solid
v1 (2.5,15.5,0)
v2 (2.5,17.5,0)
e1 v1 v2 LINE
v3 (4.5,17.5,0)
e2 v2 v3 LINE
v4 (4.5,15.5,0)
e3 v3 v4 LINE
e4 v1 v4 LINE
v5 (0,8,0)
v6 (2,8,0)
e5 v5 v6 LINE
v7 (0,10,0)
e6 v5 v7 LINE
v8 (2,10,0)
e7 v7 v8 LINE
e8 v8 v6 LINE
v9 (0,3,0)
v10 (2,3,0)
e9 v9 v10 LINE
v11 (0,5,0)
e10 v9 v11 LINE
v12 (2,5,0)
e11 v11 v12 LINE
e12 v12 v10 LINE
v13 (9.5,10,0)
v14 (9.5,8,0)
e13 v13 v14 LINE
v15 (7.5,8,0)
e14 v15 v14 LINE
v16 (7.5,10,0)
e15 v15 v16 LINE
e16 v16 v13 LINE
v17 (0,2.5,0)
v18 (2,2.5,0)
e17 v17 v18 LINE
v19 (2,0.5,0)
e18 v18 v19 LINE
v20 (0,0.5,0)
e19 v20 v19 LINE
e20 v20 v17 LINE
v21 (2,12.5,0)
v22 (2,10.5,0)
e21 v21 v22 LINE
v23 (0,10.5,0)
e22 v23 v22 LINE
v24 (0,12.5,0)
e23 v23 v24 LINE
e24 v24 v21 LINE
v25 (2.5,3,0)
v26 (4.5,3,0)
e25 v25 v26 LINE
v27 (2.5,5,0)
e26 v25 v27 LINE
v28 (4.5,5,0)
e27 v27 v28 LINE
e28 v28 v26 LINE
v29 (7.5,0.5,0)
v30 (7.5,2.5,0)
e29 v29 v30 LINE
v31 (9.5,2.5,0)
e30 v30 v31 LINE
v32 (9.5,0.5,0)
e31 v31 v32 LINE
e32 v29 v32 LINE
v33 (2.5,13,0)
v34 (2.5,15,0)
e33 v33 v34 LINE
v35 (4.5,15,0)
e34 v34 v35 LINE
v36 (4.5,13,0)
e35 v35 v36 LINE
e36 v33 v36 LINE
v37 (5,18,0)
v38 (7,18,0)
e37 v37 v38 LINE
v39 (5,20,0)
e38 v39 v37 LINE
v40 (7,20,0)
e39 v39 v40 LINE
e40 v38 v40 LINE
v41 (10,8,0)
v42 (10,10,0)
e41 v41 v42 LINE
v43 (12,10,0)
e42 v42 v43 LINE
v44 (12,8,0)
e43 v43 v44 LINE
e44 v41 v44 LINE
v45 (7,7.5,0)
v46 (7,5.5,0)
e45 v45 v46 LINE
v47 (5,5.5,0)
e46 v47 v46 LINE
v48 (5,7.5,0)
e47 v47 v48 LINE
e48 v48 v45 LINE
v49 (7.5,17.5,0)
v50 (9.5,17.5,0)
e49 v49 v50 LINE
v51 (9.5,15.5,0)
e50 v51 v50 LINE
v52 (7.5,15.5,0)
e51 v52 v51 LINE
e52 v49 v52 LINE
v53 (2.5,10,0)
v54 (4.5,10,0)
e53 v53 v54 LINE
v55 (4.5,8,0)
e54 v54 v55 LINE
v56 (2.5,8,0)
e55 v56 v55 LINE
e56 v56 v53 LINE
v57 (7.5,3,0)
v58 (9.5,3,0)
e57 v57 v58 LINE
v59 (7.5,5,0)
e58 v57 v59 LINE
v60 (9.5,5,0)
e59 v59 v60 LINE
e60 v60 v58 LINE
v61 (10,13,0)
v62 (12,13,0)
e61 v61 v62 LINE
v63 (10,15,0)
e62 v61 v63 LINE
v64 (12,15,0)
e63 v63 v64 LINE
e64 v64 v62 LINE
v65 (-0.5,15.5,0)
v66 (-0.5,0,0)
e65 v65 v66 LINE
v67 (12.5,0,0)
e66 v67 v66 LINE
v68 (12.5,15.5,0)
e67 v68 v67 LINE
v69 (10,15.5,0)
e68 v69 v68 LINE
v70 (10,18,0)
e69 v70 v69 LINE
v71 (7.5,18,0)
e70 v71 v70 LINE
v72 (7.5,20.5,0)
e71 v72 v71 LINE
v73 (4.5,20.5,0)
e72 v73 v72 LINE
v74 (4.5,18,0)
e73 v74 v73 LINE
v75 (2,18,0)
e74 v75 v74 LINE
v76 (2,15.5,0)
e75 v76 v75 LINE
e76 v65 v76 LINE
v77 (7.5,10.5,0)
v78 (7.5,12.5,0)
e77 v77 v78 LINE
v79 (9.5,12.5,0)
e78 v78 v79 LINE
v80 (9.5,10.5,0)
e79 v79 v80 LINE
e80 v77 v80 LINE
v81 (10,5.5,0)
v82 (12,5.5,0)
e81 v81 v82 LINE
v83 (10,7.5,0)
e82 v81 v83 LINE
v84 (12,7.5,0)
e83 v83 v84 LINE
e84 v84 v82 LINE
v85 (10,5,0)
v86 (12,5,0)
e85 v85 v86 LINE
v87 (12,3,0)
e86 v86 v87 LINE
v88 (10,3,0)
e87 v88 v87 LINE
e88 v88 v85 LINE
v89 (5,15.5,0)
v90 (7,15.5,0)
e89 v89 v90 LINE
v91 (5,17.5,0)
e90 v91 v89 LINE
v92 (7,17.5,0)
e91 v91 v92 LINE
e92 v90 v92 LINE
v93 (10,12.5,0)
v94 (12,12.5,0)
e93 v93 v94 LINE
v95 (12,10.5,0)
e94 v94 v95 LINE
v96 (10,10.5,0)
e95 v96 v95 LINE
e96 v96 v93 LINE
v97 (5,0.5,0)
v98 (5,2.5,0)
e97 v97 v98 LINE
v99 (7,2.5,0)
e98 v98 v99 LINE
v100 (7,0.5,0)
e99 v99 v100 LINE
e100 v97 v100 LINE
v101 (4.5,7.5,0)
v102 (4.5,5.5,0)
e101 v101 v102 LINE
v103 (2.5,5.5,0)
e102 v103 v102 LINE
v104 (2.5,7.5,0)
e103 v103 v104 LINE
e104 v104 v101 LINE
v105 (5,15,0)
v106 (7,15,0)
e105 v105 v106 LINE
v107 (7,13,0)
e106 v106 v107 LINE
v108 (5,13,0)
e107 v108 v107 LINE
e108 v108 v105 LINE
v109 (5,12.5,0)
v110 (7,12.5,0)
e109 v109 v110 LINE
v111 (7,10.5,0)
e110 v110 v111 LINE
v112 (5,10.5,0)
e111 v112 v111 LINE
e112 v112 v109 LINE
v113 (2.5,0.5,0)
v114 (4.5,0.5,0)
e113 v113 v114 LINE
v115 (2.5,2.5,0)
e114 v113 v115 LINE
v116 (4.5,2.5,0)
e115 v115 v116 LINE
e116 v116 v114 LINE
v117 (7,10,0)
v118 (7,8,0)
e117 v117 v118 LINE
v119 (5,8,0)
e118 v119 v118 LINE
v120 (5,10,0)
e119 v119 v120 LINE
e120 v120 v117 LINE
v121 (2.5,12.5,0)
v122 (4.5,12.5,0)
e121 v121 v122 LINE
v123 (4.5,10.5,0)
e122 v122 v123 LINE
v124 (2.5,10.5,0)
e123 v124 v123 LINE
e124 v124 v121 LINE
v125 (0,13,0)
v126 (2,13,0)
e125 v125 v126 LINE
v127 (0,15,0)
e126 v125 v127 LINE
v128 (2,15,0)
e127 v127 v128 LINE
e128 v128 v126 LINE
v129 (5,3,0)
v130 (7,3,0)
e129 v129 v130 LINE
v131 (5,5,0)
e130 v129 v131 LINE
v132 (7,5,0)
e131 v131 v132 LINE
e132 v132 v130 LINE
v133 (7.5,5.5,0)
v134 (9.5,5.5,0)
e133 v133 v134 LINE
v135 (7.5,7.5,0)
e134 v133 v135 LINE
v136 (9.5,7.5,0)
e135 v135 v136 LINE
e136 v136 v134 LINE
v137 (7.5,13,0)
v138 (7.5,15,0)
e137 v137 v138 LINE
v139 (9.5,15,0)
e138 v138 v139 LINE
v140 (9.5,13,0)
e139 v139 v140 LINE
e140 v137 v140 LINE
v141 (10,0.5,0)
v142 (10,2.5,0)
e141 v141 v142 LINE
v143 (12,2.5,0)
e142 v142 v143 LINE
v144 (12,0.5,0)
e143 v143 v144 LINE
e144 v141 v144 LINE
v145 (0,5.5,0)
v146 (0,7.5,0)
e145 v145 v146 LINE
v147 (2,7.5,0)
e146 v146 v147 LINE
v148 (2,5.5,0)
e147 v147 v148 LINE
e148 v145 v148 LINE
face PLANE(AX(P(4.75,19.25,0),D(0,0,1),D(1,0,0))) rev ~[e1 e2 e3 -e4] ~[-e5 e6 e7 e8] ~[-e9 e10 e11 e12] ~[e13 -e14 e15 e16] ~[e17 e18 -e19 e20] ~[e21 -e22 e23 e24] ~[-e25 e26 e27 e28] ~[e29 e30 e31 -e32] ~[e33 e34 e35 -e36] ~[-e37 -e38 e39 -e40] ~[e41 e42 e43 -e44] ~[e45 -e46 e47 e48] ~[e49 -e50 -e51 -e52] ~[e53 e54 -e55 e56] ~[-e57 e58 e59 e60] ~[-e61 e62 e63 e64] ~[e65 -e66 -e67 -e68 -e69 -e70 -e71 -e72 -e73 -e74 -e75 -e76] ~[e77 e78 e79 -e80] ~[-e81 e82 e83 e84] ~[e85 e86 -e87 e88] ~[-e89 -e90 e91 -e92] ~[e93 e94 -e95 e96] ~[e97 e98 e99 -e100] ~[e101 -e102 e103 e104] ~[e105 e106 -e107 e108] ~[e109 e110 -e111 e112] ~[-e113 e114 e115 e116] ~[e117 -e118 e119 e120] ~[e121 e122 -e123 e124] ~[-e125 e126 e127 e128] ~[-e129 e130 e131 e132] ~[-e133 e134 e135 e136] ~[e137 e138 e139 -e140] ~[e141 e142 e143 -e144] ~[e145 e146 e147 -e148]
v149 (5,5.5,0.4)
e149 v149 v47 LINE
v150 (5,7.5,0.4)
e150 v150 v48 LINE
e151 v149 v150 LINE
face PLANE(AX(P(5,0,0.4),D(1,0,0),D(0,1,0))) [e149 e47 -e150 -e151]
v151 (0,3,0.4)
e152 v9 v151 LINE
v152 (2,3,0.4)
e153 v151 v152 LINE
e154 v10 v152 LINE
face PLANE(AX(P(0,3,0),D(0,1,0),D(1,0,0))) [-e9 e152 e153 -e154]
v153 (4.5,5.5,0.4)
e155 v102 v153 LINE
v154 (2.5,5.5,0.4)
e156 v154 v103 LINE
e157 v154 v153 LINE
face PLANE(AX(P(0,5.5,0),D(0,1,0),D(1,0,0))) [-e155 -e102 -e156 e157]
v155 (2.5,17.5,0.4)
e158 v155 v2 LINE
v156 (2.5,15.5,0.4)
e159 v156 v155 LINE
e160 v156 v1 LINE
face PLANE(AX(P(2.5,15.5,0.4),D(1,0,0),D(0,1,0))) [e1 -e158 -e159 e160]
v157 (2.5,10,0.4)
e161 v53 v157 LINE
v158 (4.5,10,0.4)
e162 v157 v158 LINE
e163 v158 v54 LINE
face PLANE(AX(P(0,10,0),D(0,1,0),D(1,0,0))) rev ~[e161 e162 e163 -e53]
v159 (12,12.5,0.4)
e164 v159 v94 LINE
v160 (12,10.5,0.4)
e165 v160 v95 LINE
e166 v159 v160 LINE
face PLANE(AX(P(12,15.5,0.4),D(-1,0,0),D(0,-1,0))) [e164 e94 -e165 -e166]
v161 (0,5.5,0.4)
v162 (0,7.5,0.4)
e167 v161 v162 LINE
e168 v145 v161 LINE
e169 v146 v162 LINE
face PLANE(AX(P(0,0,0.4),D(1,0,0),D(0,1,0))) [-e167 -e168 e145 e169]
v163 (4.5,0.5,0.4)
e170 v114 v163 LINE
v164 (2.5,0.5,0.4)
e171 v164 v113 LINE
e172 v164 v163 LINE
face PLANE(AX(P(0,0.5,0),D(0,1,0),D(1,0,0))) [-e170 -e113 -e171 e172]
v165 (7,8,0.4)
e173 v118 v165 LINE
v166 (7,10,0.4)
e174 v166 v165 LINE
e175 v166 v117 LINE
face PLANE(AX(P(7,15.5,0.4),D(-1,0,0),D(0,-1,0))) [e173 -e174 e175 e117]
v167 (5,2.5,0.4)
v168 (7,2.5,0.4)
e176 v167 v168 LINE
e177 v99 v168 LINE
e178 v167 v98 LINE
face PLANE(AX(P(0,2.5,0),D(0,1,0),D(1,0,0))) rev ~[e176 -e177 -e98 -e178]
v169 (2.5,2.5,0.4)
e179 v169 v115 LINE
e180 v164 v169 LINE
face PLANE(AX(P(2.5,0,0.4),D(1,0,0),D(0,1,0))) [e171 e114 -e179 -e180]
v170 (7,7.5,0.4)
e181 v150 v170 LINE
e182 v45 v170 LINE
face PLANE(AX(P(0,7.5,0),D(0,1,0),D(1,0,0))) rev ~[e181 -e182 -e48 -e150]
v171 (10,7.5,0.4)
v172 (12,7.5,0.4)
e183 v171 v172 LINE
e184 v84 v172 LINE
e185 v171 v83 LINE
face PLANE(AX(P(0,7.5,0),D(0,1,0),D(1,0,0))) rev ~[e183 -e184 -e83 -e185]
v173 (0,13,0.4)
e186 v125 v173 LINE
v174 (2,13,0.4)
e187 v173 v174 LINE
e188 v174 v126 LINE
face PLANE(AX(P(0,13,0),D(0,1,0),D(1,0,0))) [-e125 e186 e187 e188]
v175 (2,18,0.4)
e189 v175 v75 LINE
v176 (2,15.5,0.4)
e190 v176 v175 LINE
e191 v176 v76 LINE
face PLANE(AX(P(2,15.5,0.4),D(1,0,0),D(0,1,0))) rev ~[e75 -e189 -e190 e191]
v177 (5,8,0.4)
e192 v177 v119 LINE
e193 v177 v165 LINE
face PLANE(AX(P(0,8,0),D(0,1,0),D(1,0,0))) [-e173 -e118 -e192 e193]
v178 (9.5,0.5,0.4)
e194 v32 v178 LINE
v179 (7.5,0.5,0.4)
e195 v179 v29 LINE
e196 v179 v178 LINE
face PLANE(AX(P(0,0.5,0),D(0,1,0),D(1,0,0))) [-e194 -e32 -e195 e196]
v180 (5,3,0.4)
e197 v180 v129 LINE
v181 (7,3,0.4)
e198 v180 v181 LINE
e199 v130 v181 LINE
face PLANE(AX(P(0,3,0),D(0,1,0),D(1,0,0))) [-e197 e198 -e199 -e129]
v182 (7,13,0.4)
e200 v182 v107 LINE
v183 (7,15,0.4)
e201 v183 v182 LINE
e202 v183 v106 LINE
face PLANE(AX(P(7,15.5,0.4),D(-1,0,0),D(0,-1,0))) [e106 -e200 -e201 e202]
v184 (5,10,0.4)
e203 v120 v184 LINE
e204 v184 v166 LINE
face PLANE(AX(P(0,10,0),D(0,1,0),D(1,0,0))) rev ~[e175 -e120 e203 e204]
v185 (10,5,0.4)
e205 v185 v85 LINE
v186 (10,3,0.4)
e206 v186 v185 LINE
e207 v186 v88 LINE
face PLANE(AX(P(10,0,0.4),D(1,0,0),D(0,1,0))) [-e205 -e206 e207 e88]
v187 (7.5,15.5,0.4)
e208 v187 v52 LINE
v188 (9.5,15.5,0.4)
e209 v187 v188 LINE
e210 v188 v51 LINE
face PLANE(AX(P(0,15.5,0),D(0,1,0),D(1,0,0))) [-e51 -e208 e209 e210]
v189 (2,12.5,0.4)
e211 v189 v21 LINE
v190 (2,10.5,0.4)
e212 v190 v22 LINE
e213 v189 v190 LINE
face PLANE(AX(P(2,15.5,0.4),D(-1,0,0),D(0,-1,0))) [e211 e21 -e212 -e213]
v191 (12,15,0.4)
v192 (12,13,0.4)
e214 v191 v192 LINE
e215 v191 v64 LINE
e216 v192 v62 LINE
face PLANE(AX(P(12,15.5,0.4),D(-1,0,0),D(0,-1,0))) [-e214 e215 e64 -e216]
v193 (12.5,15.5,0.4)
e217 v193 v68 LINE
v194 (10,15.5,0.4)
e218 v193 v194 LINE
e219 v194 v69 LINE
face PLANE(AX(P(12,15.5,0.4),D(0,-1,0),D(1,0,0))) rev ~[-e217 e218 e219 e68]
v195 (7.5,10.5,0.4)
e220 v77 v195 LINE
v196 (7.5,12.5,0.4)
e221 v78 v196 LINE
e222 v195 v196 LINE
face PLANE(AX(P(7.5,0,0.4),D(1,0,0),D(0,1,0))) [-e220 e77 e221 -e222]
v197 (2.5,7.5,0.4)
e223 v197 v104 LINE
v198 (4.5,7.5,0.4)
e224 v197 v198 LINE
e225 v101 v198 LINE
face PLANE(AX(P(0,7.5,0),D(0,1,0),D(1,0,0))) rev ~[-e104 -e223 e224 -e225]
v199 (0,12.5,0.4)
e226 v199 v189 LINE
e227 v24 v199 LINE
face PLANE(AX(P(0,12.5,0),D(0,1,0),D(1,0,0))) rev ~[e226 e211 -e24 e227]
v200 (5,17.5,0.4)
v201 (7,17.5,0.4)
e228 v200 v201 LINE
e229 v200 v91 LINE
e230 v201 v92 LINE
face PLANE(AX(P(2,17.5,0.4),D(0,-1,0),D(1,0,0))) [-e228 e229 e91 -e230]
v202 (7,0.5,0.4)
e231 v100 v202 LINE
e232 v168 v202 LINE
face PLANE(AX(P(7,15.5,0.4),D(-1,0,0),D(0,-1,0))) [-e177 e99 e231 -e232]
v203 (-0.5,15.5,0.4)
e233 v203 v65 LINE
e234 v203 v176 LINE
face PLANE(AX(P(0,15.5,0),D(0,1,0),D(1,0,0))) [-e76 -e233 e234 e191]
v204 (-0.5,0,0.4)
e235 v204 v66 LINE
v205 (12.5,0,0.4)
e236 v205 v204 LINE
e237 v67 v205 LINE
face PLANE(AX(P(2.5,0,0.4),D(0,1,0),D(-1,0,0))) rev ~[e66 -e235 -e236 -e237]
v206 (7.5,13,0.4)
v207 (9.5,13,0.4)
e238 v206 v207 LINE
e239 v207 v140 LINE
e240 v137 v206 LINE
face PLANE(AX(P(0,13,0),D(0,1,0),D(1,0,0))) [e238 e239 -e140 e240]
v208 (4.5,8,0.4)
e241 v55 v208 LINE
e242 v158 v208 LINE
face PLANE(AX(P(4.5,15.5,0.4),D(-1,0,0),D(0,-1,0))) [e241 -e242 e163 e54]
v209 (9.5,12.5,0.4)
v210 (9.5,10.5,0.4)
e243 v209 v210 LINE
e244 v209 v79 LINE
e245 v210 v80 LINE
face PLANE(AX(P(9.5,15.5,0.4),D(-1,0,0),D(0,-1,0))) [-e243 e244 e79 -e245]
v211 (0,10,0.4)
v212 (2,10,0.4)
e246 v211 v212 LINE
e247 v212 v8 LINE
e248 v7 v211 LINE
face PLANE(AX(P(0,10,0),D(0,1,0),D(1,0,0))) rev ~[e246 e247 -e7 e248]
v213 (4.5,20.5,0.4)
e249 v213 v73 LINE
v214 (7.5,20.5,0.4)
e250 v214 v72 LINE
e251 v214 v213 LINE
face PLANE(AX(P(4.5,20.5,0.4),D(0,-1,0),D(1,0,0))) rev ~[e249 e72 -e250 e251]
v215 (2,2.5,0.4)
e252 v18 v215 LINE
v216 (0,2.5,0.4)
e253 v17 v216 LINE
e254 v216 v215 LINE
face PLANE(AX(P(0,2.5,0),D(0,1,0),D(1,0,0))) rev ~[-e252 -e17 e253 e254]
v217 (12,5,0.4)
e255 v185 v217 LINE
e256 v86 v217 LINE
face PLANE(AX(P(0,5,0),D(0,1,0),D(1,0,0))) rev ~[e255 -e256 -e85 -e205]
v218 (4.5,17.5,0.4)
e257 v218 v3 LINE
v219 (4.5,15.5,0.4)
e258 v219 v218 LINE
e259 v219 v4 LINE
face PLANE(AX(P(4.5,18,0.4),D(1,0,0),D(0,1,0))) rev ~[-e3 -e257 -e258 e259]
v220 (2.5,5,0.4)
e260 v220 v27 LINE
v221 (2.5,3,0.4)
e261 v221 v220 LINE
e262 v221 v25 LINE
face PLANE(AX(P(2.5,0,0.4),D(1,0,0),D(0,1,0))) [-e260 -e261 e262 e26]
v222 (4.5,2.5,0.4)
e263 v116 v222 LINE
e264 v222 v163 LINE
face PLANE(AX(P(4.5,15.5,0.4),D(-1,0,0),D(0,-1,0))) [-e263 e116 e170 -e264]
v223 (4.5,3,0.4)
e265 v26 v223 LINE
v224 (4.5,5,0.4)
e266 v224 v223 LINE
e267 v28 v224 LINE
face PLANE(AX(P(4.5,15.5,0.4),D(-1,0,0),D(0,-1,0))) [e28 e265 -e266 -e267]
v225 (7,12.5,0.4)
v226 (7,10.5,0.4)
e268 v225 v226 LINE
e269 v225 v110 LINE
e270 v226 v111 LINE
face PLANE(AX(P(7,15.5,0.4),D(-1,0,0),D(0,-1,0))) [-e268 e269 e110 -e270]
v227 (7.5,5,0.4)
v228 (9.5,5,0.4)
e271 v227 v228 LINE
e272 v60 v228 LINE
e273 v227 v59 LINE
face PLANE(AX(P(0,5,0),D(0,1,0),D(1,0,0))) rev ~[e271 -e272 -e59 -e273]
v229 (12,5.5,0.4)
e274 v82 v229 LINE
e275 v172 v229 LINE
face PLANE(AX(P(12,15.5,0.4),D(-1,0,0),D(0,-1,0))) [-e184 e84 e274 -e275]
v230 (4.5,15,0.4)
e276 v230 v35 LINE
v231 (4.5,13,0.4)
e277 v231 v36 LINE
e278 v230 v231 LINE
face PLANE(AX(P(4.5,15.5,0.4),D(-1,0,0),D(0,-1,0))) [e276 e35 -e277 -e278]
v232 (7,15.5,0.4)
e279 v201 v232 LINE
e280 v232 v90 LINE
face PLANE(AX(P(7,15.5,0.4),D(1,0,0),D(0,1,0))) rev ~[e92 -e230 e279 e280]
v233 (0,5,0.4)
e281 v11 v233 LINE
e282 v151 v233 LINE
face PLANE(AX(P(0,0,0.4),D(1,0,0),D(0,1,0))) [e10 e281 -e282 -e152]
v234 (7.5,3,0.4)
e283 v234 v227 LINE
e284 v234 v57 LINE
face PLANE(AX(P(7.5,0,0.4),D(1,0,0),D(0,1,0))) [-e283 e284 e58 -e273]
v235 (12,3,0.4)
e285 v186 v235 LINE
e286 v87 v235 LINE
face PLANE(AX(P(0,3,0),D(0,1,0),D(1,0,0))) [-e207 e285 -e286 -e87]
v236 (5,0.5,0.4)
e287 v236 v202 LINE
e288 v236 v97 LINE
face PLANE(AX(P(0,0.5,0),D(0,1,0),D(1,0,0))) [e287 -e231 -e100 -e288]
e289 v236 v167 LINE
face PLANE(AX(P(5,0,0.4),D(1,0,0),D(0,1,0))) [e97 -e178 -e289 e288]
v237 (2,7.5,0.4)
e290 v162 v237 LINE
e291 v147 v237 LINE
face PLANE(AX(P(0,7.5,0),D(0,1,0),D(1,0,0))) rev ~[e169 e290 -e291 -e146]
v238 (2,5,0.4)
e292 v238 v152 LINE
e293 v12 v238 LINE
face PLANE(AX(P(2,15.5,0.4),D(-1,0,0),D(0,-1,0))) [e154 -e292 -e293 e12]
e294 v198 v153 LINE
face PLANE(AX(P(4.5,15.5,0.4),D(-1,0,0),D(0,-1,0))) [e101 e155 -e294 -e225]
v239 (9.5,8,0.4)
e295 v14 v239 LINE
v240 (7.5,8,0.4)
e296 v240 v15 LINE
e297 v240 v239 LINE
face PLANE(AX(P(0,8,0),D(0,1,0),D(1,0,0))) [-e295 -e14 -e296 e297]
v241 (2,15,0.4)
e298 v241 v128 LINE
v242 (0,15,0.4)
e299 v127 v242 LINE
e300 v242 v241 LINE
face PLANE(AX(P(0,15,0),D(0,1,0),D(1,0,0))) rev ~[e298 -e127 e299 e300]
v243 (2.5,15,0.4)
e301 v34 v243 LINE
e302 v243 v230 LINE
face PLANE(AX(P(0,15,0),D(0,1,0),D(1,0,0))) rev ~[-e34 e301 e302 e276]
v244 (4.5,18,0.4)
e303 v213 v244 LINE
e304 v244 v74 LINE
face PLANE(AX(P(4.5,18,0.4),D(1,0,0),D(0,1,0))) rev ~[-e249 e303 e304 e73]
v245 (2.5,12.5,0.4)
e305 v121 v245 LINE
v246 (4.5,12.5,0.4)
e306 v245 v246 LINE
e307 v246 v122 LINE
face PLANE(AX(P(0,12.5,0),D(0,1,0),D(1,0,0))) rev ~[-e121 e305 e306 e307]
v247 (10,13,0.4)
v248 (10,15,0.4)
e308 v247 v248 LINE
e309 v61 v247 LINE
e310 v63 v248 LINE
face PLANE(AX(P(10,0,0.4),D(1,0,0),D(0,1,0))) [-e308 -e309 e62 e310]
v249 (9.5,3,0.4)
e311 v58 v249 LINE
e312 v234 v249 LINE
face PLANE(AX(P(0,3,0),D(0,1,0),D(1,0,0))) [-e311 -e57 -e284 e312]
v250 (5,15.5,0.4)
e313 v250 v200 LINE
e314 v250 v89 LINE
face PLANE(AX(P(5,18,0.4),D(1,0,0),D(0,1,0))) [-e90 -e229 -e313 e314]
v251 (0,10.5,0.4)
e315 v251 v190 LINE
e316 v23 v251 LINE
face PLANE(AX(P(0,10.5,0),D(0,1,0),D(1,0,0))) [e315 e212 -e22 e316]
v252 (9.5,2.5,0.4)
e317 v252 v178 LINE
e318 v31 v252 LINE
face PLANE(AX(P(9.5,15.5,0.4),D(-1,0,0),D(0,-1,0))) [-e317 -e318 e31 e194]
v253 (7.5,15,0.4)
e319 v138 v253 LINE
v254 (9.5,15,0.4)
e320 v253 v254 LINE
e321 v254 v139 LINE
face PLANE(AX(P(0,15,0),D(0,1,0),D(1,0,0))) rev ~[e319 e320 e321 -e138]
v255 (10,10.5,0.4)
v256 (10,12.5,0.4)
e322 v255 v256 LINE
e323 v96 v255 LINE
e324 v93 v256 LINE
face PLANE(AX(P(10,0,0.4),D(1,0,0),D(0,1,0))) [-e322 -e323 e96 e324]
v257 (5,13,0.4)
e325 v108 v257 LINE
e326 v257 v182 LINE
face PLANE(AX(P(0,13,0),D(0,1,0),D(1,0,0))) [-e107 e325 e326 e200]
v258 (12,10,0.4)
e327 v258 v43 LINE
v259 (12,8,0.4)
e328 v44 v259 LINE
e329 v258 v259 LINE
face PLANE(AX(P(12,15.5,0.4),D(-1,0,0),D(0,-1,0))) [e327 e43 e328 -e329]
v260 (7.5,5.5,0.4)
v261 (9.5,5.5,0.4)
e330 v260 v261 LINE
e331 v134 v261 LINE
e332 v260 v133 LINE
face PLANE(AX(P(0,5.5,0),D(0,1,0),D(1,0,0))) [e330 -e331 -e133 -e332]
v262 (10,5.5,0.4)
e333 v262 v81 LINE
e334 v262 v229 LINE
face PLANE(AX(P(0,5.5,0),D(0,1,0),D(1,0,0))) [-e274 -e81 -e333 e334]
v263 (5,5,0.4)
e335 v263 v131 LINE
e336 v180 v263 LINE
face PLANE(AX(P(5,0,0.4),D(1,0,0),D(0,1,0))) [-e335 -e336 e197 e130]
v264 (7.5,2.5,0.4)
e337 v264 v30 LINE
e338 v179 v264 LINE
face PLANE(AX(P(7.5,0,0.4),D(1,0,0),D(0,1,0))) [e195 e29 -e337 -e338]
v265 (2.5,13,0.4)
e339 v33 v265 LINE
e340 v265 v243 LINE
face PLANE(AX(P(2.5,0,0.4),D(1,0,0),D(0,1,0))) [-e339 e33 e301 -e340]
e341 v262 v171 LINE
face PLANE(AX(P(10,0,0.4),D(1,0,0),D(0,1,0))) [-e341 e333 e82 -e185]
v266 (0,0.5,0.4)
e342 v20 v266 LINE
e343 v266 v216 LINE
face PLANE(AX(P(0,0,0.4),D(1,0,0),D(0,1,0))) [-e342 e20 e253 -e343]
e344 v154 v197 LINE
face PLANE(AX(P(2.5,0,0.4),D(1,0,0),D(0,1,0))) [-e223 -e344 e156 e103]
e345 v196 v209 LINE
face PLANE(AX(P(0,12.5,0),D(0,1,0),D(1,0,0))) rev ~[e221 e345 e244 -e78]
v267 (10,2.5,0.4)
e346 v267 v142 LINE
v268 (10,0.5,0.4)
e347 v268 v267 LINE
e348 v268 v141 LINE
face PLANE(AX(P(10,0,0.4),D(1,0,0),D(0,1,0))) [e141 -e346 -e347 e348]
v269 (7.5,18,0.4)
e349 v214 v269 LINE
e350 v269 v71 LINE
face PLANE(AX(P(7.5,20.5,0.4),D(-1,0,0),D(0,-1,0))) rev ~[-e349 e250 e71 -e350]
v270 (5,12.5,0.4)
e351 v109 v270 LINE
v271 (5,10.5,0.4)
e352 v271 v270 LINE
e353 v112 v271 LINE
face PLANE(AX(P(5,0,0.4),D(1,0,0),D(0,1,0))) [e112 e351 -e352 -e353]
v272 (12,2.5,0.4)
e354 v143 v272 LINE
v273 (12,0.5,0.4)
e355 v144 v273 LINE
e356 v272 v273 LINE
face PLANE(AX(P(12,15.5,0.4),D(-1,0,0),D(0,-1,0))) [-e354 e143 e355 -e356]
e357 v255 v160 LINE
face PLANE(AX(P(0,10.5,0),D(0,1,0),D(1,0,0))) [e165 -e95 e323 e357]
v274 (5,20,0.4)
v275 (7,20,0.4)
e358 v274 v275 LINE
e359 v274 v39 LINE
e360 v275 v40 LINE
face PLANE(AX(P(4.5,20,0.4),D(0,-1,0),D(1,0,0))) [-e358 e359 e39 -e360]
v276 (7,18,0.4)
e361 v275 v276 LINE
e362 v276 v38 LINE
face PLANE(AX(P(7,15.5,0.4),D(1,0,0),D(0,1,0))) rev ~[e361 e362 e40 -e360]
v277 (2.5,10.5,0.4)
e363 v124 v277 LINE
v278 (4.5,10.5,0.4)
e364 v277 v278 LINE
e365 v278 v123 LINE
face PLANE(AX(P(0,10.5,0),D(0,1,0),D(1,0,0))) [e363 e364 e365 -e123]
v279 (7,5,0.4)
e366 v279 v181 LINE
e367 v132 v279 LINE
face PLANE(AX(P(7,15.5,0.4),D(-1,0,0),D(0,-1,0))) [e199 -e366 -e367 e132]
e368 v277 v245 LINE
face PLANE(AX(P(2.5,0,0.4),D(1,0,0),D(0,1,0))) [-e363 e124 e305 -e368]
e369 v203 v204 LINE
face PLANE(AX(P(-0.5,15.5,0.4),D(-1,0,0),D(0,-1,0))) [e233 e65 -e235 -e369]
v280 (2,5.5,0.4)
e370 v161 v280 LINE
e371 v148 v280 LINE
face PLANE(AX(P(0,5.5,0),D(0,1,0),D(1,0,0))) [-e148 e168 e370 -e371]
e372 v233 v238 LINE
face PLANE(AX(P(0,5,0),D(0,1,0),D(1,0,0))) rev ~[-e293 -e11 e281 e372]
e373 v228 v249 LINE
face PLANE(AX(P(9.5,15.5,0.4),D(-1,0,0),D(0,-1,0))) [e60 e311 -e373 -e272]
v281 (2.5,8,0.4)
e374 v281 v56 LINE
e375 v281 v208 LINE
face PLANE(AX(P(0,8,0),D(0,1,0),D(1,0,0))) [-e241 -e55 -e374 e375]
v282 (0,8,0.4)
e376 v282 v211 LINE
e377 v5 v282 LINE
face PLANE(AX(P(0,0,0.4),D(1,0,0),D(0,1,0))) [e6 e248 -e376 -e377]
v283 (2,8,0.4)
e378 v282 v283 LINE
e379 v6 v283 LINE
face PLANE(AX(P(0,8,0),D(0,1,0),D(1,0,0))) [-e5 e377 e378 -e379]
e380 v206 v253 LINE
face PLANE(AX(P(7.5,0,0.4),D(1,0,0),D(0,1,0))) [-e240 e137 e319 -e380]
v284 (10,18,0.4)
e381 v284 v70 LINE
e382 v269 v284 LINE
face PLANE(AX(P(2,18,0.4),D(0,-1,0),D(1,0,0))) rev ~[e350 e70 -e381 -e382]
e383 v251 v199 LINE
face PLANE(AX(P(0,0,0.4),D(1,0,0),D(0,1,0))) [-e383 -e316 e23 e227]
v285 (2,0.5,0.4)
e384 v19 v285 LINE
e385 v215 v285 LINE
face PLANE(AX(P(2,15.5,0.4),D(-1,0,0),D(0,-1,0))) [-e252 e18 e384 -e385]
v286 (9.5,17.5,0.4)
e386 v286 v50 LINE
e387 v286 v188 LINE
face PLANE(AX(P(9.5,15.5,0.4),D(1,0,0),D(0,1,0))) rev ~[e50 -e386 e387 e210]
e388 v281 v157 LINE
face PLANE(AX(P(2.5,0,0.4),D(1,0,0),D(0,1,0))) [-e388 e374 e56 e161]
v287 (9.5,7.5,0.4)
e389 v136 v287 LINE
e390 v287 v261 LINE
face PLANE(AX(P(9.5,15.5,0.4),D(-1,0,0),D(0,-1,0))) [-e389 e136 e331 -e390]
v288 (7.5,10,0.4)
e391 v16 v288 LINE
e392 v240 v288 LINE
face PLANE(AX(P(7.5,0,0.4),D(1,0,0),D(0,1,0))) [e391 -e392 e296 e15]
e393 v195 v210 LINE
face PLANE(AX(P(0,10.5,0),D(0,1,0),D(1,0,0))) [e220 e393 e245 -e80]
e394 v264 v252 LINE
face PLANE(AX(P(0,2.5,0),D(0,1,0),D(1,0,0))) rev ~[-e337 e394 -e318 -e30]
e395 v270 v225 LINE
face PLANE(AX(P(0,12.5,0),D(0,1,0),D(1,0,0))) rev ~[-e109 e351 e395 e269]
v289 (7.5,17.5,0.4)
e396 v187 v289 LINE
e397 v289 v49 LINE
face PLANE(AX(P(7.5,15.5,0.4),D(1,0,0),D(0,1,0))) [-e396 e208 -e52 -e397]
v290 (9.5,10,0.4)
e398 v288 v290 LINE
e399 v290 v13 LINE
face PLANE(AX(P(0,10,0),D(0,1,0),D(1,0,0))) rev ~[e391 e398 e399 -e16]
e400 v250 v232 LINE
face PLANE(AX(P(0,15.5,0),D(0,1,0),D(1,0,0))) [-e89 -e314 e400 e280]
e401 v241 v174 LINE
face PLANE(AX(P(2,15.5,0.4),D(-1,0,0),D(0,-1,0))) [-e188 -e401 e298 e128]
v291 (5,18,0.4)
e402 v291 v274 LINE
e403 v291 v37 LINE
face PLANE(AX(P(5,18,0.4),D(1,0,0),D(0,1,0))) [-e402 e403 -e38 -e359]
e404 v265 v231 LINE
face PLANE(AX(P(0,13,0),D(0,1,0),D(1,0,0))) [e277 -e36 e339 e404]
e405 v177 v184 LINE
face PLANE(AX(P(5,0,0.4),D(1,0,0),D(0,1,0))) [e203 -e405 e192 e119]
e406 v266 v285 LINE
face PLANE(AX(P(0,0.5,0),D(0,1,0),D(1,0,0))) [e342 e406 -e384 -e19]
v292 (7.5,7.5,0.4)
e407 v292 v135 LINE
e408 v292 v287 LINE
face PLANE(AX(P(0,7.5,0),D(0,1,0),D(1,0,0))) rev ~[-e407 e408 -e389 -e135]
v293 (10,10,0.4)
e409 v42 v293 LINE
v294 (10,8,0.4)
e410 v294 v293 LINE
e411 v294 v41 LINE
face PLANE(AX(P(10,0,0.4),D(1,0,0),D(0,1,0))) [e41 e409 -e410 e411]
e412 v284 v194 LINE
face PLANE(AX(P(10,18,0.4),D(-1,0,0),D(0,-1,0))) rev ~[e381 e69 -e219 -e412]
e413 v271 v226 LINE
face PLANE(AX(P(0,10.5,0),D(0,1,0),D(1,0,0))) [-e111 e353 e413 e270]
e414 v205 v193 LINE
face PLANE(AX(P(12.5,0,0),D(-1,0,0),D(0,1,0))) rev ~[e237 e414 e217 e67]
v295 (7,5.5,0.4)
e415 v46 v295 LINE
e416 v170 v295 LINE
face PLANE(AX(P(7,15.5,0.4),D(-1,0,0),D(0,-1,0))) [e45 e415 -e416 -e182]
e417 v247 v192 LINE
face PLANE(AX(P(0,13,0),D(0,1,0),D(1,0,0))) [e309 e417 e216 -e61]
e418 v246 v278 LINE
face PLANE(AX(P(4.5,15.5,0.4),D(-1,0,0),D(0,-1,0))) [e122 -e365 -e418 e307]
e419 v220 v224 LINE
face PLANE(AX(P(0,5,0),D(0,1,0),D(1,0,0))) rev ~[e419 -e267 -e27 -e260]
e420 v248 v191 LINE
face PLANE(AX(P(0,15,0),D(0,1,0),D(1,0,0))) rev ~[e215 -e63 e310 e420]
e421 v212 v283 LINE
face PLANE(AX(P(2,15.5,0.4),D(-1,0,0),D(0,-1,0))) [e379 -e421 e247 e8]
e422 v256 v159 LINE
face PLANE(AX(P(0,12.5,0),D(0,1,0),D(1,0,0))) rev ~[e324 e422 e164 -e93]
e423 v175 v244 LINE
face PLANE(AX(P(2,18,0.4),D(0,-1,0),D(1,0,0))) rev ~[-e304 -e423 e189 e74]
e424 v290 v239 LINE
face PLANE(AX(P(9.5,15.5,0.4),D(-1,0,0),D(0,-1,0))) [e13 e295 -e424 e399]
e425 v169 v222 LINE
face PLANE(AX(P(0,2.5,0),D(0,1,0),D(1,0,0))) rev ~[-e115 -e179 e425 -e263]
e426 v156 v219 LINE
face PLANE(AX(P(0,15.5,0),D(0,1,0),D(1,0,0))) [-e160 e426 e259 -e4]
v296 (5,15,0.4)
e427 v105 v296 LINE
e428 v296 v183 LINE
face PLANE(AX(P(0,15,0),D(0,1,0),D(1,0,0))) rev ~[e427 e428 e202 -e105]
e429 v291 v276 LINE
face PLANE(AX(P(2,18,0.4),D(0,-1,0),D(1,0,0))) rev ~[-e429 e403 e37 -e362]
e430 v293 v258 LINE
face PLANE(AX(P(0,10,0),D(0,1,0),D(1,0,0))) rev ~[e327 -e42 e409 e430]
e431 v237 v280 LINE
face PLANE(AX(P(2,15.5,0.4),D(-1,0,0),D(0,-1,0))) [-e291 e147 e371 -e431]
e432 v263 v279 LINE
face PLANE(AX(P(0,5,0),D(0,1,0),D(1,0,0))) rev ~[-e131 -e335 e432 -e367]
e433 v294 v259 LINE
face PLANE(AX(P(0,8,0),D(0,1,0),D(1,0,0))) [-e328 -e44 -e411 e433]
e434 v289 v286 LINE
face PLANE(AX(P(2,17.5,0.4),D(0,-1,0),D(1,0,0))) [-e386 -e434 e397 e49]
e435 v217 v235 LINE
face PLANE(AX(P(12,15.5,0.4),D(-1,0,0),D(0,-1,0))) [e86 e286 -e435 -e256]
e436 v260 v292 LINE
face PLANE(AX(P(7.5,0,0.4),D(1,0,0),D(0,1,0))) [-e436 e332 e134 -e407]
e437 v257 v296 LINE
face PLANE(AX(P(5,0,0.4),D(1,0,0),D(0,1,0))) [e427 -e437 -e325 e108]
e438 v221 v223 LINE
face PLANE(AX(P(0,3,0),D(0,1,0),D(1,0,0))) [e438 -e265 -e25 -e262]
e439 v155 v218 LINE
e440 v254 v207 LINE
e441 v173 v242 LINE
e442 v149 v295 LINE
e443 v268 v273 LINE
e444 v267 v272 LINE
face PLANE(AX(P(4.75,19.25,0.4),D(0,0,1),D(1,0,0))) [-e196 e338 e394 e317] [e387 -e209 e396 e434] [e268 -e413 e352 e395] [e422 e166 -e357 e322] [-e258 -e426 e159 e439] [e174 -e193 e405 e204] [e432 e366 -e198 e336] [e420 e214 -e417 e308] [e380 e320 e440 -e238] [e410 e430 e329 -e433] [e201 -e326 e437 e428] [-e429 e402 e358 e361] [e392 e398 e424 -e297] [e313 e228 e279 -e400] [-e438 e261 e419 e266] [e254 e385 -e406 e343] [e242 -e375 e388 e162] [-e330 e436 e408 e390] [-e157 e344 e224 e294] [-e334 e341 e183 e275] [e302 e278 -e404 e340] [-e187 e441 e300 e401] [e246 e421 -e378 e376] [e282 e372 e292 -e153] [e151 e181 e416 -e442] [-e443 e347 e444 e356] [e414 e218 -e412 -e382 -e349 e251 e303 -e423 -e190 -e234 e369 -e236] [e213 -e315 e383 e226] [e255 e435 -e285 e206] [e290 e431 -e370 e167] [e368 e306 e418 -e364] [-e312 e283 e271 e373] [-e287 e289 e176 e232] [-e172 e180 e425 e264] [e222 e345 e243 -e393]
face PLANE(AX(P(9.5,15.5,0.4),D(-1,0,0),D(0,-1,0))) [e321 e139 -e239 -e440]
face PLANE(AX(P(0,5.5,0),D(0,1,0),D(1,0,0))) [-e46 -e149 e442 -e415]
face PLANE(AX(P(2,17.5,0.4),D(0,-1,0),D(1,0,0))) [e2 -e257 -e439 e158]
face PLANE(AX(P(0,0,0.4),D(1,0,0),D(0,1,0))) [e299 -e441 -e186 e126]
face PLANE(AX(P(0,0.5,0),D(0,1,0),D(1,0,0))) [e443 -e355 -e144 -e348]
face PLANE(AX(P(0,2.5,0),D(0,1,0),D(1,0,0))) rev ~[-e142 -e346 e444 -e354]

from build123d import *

# Parameters (mm, degrees)
SKETCH_1_W             = 12.5
SKETCH_1_H             = 0.5
EXTRUDE_1_DEPTH        = 0.4
PATTERN_LINEAR_1_COUNT = 7
PATTERN_LINEAR_1_PITCH = 2.5
EXTRUDE_3_DEPTH        = 0.4
PATTERN_LINEAR_2_COUNT = 7
PATTERN_LINEAR_2_PITCH = 2.5
SKETCH_4_W             = 0.5
SKETCH_4_H             = 2.5
EXTRUDE_4_DEPTH        = 0.4
SKETCH_6_W             = 0.5
SKETCH_6_H             = 2.5
EXTRUDE_6_DEPTH        = 0.4
SKETCH_7_W             = 10.5
SKETCH_7_H             = 0.5
SKETCH_7_W_2           = 5.5
EXTRUDE_7_DEPTH        = 0.4
CUT_EXTRUDE_2_DEPTH    = 10


with BuildPart() as part:
    # Sketch 1 → Extrude 1 (new body)
    with BuildSketch(Plane.XY):
        with Locations((6.25, 0.25)):
            Rectangle(SKETCH_1_W, SKETCH_1_H)
    extrude(amount=EXTRUDE_1_DEPTH)


with BuildPart() as pattern_linear_1_1:
    # Pattern Linear 1: pattern copy
    add(part.part.moved(Location(Vector(0, 1, 0) * (1 * PATTERN_LINEAR_1_PITCH))))


with BuildPart() as pattern_linear_1_2:
    # Pattern Linear 1: pattern copy
    add(part.part.moved(Location(Vector(0, 1, 0) * (2 * PATTERN_LINEAR_1_PITCH))))


with BuildPart() as pattern_linear_1_3:
    # Pattern Linear 1: pattern copy
    add(part.part.moved(Location(Vector(0, 1, 0) * (3 * PATTERN_LINEAR_1_PITCH))))


with BuildPart() as pattern_linear_1_4:
    # Pattern Linear 1: pattern copy
    add(part.part.moved(Location(Vector(0, 1, 0) * (4 * PATTERN_LINEAR_1_PITCH))))


with BuildPart() as pattern_linear_1_5:
    # Pattern Linear 1: pattern copy
    add(part.part.moved(Location(Vector(0, 1, 0) * (5 * PATTERN_LINEAR_1_PITCH))))


with BuildPart() as pattern_linear_1_6:
    # Pattern Linear 1: pattern copy
    add(part.part.moved(Location(Vector(0, 1, 0) * (6 * PATTERN_LINEAR_1_PITCH))))

    # Sketch 4 → Extrude 4 (add)
    with BuildSketch(Plane.XY.offset(0.4)):
        with Locations((4.75, 16.75)):
            Rectangle(SKETCH_4_W, SKETCH_4_H)
        with Locations((2.25, 16.75)):
            Rectangle(SKETCH_4_W, SKETCH_4_H)
        with Locations((7.25, 16.75)):
            Rectangle(SKETCH_4_W, SKETCH_4_H)
        with Locations((9.75, 16.75)):
            Rectangle(SKETCH_4_W, SKETCH_4_H)
    extrude(amount=-EXTRUDE_4_DEPTH)

    # Sketch 6 → Extrude 6 (add)
    with BuildSketch(Plane.XY.offset(0.4)):
        with Locations((4.75, 19.25)):
            Rectangle(SKETCH_6_W, SKETCH_6_H)
        with Locations((9.75, 19.25)):
            Rectangle(SKETCH_6_W, SKETCH_6_H)
        with Locations((7.25, 19.25)):
            Rectangle(SKETCH_6_W, SKETCH_6_H)
    extrude(amount=-EXTRUDE_6_DEPTH)

    # Sketch 7 → Extrude 7 (add)
    with BuildSketch(Plane.XY.offset(0.4)):
        with Locations((7.25, 17.75)):
            Rectangle(SKETCH_7_W, SKETCH_7_H)
        with Locations((7.25, 20.25)):
            Rectangle(SKETCH_7_W_2, SKETCH_7_H)
    extrude(amount=-EXTRUDE_7_DEPTH)

    # Sketch 9 → Cut-Extrude 2 (cut)
    with BuildSketch(Plane.XY.offset(0.4)):
        Polygon((9.5, 18), (10, 18), (10, 15.5), (12.5, 15.5), (12.5, 20), (10, 20), (10, 20.5), (7.5, 20.5), (7.5, 20), (9.5, 20), align=None)
    extrude(amount=-CUT_EXTRUDE_2_DEPTH, mode=Mode.SUBTRACT)


with BuildPart() as part_1:
    add(part.part)

    add(pattern_linear_1_1.part)  # Extrude 3 merges Pattern Linear 1_1

    add(pattern_linear_1_2.part)  # Extrude 3 merges Pattern Linear 1_2

    add(pattern_linear_1_3.part)  # Extrude 3 merges Pattern Linear 1_3
    # Sketch 3 → Extrude 3 (add)
    with BuildSketch(Plane.XY.offset(0.4)):
        Polygon((0, 15.5), (0, 8), (0, 0), (-0.5, 0), (-0.5, 10.98507125), (-0.5, 15.5), align=None)
    extrude_3 = extrude(amount=-EXTRUDE_3_DEPTH)

    # Pattern Linear 2: Extrude 3 ×7, 1 skipped
    with Locations(*[(i * PATTERN_LINEAR_2_PITCH, 0, 0) for i in range(1, PATTERN_LINEAR_2_COUNT) if i not in (6,)]):
        add(extrude_3)

    # Combine 1: union Pattern Linear 1_5, Pattern Linear 1_4
    add(pattern_linear_1_5.part)
    add(pattern_linear_1_4.part)

    # Combine 2: union Pattern Linear 1_6
    add(pattern_linear_1_6.part)


solid = part_1.part
